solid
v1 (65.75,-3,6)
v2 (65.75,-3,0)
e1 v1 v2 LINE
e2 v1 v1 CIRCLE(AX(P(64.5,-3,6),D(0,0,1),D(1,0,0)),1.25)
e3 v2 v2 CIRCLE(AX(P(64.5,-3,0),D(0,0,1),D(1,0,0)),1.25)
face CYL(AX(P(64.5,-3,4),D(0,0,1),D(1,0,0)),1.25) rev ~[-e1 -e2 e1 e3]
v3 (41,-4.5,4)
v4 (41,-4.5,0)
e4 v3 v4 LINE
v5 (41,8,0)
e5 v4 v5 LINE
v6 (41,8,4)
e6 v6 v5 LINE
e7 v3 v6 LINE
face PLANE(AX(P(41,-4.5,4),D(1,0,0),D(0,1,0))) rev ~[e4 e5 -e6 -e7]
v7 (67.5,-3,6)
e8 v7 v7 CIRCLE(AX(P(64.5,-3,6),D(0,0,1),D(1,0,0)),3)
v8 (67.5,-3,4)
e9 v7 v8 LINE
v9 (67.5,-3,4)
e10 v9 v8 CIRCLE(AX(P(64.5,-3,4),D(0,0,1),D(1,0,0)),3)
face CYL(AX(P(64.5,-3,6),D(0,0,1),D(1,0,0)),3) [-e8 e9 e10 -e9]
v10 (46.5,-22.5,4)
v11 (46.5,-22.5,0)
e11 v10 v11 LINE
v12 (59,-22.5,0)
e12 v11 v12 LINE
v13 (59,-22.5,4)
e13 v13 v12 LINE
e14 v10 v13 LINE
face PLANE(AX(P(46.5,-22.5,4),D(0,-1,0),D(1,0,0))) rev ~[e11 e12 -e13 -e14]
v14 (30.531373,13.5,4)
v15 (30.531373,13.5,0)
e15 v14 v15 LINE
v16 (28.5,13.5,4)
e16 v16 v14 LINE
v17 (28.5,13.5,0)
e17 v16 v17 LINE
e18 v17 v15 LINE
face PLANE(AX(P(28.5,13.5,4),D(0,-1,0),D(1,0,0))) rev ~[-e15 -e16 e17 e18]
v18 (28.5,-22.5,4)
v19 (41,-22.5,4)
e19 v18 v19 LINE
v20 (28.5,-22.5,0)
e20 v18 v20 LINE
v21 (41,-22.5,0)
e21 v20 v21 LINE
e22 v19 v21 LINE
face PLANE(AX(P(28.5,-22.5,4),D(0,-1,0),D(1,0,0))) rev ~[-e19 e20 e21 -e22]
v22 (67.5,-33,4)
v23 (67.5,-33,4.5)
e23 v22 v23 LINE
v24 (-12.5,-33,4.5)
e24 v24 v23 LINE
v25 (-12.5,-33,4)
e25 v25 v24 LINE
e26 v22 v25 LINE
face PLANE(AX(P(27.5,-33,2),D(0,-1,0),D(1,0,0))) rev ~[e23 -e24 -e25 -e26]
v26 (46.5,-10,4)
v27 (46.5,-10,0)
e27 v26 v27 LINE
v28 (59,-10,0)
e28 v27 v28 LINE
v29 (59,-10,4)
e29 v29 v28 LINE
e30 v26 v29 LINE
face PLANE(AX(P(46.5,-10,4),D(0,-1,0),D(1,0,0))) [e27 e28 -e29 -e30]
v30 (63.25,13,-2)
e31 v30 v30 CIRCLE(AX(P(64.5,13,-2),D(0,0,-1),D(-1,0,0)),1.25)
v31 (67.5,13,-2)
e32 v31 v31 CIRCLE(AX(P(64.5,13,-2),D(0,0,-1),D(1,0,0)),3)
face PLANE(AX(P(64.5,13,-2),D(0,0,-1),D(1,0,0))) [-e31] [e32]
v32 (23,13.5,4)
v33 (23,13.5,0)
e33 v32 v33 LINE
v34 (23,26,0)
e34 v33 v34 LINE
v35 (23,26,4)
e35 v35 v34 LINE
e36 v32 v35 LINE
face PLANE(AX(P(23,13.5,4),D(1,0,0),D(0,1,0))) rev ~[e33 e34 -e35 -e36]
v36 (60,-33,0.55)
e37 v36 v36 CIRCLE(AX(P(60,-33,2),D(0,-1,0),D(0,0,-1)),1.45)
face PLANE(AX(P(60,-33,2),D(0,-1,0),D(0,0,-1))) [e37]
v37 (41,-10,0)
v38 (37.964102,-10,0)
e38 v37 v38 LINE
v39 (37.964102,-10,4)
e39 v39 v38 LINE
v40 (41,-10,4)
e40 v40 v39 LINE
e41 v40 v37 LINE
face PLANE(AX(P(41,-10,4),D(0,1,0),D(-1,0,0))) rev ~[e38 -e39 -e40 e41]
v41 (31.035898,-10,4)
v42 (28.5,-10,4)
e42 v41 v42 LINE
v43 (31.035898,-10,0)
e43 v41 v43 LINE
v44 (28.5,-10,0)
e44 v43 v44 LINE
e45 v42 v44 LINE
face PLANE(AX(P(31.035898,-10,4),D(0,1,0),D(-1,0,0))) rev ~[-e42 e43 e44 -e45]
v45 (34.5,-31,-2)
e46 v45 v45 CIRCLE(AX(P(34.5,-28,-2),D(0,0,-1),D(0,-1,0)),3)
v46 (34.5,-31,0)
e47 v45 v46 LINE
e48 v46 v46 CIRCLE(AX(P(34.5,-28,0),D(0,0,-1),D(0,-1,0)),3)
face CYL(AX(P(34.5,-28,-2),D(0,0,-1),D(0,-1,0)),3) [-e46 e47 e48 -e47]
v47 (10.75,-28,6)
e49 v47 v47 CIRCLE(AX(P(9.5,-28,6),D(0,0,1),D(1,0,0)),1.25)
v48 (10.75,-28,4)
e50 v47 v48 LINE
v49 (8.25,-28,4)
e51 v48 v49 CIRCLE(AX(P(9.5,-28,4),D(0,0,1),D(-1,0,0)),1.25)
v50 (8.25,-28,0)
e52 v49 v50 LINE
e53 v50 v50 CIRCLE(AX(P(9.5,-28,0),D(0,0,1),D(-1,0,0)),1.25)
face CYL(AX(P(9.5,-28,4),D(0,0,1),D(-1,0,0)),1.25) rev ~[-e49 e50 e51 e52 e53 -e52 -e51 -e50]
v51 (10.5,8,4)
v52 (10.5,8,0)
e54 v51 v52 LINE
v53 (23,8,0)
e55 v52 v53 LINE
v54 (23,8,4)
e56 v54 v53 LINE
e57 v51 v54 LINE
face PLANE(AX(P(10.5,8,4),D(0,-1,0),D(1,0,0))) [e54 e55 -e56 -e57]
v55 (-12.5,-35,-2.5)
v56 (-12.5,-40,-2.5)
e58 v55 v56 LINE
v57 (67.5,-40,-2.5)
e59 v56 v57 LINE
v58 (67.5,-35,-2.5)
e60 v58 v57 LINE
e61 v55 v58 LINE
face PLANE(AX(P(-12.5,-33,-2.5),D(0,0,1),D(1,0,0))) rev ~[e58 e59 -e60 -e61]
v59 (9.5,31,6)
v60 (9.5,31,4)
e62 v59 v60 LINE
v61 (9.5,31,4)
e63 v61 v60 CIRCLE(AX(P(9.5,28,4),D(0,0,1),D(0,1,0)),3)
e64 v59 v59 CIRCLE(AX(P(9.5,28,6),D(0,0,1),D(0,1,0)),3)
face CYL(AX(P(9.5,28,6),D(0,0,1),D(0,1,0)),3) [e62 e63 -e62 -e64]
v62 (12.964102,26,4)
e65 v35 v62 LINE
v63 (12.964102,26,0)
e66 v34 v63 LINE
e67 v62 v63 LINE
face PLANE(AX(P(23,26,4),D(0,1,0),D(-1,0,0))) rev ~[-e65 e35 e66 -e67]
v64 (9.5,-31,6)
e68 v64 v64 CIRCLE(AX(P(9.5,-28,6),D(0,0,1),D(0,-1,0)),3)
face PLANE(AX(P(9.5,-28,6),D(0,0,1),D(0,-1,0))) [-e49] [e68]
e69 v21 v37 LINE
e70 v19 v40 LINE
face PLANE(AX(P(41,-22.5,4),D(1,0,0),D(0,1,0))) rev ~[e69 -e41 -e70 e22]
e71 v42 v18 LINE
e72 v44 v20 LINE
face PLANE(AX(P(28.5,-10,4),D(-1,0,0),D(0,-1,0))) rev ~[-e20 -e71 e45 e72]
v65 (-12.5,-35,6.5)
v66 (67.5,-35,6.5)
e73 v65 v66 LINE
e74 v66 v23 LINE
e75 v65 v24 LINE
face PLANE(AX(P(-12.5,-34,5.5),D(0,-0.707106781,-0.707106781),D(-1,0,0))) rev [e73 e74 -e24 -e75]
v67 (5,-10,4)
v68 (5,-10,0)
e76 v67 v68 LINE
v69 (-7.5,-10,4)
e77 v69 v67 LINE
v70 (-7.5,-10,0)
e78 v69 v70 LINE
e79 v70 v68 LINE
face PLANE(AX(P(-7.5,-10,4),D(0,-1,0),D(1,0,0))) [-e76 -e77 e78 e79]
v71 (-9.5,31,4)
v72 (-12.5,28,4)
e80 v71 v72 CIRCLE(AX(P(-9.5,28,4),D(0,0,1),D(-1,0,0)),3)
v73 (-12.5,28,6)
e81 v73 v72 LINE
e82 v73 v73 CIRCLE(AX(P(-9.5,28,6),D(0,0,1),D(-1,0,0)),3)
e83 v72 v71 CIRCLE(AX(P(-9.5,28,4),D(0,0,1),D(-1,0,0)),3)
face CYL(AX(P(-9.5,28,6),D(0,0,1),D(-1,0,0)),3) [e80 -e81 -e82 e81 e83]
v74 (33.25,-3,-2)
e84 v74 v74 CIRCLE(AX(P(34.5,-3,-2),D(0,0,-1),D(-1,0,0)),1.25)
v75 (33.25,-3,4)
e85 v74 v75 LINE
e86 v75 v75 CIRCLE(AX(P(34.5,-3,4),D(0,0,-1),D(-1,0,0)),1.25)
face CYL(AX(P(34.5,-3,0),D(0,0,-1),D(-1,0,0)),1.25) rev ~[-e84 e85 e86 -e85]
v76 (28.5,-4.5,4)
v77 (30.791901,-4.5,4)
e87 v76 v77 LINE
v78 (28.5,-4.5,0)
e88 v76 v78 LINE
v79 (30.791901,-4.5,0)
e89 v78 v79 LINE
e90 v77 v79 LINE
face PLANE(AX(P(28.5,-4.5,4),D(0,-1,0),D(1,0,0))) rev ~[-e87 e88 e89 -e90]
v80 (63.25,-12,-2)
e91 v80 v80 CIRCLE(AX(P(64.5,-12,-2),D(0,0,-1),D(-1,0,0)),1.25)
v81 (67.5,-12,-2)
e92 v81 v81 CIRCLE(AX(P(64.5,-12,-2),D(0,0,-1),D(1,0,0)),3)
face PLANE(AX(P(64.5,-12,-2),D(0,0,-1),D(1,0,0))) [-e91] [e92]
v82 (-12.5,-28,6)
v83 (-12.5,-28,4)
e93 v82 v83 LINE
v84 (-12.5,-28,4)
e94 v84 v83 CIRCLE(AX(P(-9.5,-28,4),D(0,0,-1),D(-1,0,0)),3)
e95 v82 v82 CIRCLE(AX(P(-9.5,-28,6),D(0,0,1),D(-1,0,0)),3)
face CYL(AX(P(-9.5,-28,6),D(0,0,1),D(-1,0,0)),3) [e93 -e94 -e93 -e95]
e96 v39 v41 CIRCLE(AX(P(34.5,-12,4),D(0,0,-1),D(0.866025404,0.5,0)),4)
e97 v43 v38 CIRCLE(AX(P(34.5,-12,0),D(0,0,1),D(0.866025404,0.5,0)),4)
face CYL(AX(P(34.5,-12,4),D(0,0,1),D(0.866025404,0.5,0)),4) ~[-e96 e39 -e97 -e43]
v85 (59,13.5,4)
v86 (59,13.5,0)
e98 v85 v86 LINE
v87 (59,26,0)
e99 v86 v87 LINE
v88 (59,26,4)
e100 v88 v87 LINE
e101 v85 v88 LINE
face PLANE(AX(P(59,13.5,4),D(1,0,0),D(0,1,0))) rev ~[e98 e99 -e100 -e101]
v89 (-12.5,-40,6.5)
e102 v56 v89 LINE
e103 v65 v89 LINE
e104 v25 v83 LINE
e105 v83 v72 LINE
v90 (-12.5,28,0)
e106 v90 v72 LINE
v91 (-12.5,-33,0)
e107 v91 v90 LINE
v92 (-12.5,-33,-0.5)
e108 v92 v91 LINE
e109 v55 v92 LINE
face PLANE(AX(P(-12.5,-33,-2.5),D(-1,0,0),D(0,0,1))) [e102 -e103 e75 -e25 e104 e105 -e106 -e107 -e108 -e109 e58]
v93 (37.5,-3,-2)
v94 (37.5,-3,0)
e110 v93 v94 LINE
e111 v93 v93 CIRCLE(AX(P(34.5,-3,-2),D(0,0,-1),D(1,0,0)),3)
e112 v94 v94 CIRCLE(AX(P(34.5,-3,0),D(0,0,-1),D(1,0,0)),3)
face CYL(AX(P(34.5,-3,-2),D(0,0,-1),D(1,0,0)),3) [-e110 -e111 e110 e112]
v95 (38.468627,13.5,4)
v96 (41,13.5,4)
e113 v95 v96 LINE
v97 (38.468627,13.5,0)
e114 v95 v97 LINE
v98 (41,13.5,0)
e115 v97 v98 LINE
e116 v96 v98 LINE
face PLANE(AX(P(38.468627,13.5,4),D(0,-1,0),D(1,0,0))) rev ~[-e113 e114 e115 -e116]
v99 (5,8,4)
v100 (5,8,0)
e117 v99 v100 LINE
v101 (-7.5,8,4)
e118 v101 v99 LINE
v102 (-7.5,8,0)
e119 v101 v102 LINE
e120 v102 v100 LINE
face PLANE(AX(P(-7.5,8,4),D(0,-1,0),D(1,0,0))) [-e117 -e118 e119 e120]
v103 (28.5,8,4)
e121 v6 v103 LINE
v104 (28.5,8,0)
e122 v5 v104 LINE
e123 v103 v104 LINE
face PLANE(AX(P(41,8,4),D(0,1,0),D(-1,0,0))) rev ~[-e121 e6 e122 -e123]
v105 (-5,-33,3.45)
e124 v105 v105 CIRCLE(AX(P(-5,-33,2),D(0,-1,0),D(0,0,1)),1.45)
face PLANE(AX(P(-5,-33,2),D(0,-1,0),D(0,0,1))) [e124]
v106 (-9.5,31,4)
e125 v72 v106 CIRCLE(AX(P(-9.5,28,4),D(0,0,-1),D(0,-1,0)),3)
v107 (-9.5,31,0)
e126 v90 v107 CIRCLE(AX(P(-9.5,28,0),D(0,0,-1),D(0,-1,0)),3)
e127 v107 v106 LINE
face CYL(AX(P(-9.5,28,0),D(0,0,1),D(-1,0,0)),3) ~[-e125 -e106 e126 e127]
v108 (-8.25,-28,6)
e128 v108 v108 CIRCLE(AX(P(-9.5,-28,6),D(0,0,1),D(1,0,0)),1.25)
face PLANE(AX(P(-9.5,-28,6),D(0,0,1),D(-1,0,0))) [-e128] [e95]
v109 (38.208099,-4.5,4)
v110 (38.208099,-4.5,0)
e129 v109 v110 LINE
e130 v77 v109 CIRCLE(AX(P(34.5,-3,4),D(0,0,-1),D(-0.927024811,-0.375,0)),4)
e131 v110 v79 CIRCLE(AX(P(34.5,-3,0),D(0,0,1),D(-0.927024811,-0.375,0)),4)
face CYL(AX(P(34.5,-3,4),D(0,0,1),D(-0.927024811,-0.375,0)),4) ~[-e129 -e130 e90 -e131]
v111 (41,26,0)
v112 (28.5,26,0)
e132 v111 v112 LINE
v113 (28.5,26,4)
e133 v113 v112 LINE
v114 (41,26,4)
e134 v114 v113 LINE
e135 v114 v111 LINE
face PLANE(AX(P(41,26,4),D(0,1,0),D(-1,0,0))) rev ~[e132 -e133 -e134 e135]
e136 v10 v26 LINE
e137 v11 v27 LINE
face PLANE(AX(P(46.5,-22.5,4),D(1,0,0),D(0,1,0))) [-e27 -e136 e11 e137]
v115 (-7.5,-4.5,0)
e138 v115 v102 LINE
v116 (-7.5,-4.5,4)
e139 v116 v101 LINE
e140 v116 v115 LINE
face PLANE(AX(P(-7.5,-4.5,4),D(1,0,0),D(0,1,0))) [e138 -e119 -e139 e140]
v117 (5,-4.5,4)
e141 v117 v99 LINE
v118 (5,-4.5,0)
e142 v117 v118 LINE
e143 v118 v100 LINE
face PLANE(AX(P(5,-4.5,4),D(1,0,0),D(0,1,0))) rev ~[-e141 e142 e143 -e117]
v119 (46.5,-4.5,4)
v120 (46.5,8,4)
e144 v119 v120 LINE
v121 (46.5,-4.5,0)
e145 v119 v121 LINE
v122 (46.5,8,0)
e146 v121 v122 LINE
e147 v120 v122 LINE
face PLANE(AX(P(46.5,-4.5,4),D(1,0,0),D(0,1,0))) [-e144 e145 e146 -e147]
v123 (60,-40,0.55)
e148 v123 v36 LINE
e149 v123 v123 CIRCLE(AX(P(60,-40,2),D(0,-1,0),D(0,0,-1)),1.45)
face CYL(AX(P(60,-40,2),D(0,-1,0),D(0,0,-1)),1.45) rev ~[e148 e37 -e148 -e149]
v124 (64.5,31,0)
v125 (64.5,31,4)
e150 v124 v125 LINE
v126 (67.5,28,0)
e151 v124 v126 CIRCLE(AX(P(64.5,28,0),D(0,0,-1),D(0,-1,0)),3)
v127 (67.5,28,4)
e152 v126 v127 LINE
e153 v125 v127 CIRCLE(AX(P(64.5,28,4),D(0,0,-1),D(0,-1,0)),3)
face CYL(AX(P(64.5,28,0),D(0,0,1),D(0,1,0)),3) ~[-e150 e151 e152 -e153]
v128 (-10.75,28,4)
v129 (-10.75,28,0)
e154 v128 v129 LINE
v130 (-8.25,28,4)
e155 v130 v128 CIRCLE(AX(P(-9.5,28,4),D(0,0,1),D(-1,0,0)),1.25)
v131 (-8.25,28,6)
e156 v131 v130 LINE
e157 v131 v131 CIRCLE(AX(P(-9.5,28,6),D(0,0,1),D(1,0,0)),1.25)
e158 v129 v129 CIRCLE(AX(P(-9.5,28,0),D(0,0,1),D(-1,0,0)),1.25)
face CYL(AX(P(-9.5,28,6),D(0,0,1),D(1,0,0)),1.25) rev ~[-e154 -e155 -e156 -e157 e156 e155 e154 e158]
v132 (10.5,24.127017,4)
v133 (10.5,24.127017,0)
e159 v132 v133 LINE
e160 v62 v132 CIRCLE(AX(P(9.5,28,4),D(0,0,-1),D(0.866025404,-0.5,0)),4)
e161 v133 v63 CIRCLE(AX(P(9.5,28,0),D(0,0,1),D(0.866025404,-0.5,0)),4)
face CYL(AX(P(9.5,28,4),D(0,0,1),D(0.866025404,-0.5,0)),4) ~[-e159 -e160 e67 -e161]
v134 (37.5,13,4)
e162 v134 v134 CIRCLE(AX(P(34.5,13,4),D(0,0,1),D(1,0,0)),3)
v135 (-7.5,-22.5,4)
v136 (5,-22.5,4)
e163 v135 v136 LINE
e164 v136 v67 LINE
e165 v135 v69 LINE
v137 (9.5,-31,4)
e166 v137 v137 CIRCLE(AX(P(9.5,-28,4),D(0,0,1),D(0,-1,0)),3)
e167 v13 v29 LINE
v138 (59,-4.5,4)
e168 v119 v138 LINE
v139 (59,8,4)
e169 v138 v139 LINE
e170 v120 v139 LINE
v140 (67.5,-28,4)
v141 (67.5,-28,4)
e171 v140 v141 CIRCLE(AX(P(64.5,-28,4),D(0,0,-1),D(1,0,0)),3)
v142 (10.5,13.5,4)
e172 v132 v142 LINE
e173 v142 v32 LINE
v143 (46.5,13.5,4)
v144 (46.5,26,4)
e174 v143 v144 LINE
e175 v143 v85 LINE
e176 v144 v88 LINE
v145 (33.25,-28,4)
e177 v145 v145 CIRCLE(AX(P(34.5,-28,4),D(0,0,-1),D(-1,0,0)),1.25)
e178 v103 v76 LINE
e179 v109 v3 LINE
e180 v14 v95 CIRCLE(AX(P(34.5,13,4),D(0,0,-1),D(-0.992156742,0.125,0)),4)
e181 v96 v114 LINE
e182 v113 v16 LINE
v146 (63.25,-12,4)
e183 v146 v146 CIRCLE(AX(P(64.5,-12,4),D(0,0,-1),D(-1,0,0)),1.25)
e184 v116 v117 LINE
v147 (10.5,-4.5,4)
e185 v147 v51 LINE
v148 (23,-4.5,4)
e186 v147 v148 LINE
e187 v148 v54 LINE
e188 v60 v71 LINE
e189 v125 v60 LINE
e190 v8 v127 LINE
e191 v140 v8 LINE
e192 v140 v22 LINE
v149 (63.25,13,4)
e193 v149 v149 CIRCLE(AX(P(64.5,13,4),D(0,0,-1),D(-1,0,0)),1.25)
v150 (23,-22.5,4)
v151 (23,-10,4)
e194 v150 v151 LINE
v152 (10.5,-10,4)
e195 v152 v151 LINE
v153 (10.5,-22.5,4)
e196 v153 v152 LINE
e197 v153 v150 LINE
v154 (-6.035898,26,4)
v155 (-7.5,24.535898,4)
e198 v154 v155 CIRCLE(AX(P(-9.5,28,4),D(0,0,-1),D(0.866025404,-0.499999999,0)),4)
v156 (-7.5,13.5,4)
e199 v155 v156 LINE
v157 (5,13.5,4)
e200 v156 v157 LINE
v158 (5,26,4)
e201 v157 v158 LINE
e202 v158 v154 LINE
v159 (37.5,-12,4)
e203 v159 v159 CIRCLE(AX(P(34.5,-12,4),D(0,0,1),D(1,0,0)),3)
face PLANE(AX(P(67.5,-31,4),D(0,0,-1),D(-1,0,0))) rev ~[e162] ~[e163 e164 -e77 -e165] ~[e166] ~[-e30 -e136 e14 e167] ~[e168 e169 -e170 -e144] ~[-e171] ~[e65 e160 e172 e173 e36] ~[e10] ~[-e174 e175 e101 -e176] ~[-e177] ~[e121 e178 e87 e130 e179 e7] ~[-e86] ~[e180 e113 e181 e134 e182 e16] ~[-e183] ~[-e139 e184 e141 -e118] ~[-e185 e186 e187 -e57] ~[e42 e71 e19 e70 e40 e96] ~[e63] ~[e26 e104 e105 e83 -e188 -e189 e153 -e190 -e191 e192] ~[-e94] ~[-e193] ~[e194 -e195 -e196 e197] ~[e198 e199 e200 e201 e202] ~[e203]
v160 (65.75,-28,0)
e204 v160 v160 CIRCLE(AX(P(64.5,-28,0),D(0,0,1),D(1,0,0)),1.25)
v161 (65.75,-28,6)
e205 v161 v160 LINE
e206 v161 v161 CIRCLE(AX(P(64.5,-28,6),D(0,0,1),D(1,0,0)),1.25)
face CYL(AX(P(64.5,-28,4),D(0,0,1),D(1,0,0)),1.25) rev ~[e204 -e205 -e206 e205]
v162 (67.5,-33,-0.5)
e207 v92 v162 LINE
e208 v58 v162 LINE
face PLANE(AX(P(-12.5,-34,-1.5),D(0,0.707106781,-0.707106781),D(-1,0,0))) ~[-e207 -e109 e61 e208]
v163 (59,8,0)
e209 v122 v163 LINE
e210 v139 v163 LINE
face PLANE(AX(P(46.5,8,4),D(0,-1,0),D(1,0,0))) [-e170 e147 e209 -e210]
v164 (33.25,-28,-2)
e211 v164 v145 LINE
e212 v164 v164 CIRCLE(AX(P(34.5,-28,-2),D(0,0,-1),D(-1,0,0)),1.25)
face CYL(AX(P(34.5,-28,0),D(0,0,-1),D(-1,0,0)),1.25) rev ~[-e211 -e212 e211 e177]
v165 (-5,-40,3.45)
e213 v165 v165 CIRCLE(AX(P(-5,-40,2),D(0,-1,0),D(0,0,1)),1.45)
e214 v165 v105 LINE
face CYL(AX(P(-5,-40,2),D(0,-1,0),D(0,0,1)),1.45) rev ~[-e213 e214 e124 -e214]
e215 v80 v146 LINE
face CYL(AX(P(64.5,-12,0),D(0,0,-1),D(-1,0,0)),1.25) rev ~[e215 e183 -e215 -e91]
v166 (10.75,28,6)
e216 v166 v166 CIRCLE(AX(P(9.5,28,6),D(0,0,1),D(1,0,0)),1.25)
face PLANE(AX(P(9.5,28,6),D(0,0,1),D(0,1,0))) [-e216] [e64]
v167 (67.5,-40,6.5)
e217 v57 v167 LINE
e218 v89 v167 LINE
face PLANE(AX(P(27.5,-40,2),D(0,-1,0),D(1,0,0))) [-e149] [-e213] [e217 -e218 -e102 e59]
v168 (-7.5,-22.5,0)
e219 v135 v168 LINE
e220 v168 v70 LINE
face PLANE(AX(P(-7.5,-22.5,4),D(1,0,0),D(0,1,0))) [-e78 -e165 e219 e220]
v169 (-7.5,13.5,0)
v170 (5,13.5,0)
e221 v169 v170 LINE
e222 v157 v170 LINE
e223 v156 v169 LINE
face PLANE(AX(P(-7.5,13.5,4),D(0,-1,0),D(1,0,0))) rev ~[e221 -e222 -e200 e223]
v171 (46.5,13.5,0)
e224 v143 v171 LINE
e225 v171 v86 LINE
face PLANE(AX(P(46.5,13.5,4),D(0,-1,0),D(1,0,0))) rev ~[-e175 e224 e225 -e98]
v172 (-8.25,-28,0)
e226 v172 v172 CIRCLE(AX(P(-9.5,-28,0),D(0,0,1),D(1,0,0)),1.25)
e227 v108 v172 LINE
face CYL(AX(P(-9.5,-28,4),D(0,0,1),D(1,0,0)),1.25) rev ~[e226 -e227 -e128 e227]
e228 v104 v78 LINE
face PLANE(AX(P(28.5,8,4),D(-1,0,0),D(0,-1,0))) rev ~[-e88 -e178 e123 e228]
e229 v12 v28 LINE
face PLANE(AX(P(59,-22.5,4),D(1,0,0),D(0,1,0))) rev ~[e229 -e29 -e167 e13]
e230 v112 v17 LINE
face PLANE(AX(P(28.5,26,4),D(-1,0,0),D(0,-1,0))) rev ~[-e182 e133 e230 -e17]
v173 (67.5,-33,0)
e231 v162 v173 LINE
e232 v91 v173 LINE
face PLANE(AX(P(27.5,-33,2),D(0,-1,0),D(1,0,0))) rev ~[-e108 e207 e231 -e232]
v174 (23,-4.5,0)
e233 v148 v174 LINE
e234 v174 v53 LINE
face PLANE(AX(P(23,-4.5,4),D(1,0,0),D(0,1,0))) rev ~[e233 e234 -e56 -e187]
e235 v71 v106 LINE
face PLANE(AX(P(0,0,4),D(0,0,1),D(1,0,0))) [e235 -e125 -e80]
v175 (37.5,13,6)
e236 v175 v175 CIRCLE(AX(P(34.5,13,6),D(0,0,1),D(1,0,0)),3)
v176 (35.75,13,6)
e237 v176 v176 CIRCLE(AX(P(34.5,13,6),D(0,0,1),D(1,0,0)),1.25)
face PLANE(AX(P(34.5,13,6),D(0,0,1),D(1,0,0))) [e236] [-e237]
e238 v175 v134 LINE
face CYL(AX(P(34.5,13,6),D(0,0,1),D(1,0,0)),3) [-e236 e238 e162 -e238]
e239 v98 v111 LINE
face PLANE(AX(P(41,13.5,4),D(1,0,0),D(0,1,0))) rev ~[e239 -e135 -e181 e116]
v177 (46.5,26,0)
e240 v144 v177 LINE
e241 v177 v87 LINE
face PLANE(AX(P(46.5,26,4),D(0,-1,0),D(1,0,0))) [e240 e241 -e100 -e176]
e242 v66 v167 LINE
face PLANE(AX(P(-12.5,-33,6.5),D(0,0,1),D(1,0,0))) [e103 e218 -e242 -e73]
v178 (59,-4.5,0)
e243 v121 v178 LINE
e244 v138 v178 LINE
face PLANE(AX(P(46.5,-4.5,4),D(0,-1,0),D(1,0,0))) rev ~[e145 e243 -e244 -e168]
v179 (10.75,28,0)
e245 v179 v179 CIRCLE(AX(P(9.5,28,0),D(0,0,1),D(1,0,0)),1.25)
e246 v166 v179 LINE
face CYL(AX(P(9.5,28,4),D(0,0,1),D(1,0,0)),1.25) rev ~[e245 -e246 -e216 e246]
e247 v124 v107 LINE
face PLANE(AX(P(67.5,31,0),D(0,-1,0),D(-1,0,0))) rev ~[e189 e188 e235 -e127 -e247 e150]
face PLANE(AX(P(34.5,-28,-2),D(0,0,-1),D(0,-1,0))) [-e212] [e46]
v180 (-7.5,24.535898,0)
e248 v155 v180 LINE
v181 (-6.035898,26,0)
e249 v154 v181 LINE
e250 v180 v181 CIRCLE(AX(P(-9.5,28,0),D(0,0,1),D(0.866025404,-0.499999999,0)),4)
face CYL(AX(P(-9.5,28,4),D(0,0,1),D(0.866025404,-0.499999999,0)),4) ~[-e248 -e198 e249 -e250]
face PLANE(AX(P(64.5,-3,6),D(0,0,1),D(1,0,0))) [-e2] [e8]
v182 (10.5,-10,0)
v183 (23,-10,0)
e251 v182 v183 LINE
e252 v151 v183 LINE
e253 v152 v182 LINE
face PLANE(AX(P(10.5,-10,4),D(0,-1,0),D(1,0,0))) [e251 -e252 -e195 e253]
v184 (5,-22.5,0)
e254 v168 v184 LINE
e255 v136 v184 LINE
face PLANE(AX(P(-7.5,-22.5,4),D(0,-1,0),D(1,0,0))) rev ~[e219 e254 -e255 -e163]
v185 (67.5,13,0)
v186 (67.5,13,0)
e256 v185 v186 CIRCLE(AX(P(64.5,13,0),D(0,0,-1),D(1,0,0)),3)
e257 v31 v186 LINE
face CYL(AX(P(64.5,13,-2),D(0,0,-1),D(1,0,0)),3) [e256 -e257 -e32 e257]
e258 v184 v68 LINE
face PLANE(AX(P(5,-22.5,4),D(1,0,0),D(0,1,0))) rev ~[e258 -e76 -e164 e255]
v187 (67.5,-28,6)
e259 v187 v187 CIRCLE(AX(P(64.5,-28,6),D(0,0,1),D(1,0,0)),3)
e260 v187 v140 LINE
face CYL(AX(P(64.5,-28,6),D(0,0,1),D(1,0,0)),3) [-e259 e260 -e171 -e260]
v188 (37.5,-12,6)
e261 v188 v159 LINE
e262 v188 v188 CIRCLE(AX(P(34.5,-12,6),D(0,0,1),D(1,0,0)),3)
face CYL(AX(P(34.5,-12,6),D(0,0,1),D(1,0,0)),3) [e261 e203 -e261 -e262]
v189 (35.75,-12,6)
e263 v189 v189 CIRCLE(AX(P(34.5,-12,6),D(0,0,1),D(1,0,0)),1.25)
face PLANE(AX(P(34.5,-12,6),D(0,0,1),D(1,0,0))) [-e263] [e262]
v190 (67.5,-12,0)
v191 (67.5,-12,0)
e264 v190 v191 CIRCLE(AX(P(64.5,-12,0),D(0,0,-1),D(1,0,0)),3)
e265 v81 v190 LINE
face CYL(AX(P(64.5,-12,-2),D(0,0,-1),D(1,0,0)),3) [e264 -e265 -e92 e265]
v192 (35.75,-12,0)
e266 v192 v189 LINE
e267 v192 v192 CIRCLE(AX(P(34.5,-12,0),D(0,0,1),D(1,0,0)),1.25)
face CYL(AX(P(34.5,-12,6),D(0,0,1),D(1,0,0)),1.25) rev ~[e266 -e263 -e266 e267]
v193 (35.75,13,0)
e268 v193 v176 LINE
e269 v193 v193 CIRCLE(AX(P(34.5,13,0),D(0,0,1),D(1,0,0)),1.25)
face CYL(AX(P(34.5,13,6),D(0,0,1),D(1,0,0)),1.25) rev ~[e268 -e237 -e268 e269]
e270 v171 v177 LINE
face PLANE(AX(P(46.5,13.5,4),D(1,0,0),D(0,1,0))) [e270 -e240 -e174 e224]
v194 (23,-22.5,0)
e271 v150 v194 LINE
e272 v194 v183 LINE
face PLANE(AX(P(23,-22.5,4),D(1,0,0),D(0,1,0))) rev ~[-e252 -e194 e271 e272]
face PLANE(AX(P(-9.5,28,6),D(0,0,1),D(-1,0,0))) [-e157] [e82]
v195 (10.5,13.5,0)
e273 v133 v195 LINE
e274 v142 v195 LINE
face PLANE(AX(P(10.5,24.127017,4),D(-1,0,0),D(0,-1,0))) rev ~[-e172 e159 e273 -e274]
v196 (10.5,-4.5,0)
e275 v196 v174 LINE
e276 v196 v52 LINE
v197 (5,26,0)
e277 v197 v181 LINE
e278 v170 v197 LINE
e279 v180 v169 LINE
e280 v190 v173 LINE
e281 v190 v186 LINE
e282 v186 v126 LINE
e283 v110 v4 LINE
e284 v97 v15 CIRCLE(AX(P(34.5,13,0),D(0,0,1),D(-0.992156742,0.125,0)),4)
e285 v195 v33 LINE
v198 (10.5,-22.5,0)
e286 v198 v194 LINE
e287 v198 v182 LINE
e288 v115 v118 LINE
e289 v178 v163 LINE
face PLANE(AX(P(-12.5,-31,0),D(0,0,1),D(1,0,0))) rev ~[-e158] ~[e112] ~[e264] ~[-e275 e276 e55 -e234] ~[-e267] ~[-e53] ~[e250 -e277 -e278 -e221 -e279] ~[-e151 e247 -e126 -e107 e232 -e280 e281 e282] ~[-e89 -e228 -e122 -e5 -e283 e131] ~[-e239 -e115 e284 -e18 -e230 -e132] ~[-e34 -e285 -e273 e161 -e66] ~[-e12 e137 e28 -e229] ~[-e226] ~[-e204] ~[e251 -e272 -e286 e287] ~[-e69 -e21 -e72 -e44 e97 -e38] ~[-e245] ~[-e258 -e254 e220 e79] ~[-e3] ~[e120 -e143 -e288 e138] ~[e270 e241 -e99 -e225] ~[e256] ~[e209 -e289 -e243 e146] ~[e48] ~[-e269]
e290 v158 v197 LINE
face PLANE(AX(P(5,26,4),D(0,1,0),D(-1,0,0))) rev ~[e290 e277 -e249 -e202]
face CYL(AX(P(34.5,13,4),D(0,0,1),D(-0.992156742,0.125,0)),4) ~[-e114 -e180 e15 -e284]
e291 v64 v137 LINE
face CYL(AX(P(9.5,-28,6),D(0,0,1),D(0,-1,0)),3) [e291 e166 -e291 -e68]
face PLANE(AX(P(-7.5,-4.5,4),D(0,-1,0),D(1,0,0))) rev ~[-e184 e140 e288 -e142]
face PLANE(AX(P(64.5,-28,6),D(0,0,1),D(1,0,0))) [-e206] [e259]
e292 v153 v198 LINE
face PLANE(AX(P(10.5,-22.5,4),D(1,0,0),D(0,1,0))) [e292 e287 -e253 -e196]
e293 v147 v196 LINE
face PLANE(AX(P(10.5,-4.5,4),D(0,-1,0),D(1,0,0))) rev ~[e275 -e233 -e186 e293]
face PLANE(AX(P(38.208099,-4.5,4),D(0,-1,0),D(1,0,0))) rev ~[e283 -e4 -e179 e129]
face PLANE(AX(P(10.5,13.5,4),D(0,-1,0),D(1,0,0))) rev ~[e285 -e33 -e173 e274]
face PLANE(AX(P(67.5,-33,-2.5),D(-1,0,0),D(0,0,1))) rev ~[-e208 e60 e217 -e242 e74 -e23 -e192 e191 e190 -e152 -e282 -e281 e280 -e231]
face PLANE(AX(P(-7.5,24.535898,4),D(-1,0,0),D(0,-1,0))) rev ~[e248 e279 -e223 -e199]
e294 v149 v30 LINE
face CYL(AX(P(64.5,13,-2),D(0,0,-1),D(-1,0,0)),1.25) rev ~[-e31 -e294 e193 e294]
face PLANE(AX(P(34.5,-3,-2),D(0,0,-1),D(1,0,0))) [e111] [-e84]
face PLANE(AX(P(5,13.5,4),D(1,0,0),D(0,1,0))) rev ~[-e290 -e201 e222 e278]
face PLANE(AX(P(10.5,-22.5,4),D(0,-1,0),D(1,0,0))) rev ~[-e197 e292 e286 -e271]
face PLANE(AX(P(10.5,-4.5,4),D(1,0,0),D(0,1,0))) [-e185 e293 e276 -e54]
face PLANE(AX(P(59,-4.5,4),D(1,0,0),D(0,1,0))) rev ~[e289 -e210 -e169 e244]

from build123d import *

# Parameters (mm, degrees)
SKETCH1_W           = 25
SKETCH1_H           = 62
SKETCH1_W_2         = 55
BOSS_EXTRUDE1_DEPTH = 4
SKETCH2_R           = 1.25
CUT_EXTRUDE1_DEPTH  = 4
BOSS_EXTRUDE2_START = 2
SKETCH3_R           = 3
SKETCH3_R_2         = 1.25
BOSS_EXTRUDE2_DEPTH = 2
SKETCH4_R           = 1.25
CUT_EXTRUDE2_DEPTH  = 10
BOSS_EXTRUDE3_START = 2
SKETCH5_R           = 3
SKETCH5_R_2         = 1.25
BOSS_EXTRUDE3_DEPTH = 2
LPATTERN1_COUNT     = 2
LPATTERN1_PITCH     = 25
SKETCH6_R           = 1.25
CUT_EXTRUDE3_DEPTH  = 75.520131508
BOSS_EXTRUDE4_START = 2
SKETCH7_R           = 3
SKETCH7_R_2         = 1.25
BOSS_EXTRUDE4_DEPTH = 2
SKETCH8_W           = 12.5
SKETCH8_H           = 12.5
CUT_EXTRUDE4_DEPTH  = 75.520131508
FILLET1_R           = 3
BOSS_EXTRUDE5_DEPTH = 2
SKETCH10_W          = 80
SKETCH10_H          = 9
BOSS_EXTRUDE6_DEPTH = 7
CHAMFER1_SIZE       = 2
SKETCH11_R          = 1.45
CUT_EXTRUDE5_DEPTH  = 7


with BuildPart() as part:
    # Sketch1 → Boss-Extrude1 (new body)
    with BuildSketch(Plane.XY):
        Rectangle(SKETCH1_W, SKETCH1_H)
        with Locations((40, 0)):
            Rectangle(SKETCH1_W_2, SKETCH1_H)
    extrude(amount=BOSS_EXTRUDE1_DEPTH)

    # Sketch2 → Cut-Extrude1 (cut)
    with BuildSketch(Plane.XY.offset(4)):
        with Locations((-9.5, -28)):
            Circle(SKETCH2_R)
        with Locations(Location((9.5, -28, 0), (0, 0, 180))):
            Circle(SKETCH2_R)
        with Locations((9.5, 28)):
            Circle(SKETCH2_R)
        with Locations(Location((-9.5, 28, 0), (0, 0, 180))):
            Circle(SKETCH2_R)
    extrude(amount=-CUT_EXTRUDE1_DEPTH, mode=Mode.SUBTRACT)

    # Sketch3 → Boss-Extrude2 (add)
    # profile 1 of 4: a face of its own
    with BuildSketch(Plane.XY.offset(4).offset(BOSS_EXTRUDE2_START)):
        with Locations(Location((-9.5, 28, 0), (0, 0, 180))):
            Circle(SKETCH3_R)
        with Locations((-9.5, 28)):
            Circle(SKETCH3_R_2, mode=Mode.SUBTRACT)
    # profile 2 of 4: a face of its own
    with BuildSketch(Plane.XY.offset(4).offset(BOSS_EXTRUDE2_START)):
        with Locations(Location((9.5, 28, 0), (0, 0, 90))):
            Circle(SKETCH3_R)
        with Locations((9.5, 28)):
            Circle(SKETCH3_R_2, mode=Mode.SUBTRACT)
    # profile 3 of 4: a face of its own
    with BuildSketch(Plane.XY.offset(4).offset(BOSS_EXTRUDE2_START)):
        with Locations(Location((-9.5, -28, 0), (0, 0, 180))):
            Circle(SKETCH3_R)
        with Locations((-9.5, -28)):
            Circle(SKETCH3_R_2, mode=Mode.SUBTRACT)
    # profile 4 of 4: a face of its own
    with BuildSketch(Plane.XY.offset(4).offset(BOSS_EXTRUDE2_START)):
        with Locations(Location((9.5, -28, 0), (0, 0, 270))):
            Circle(SKETCH3_R)
        with Locations((9.5, -28)):
            Circle(SKETCH3_R_2, mode=Mode.SUBTRACT)
    extrude(amount=-BOSS_EXTRUDE2_DEPTH)

    # Sketch4 → Cut-Extrude2 (cut)
    with BuildSketch(Plane.XY.offset(4)):
        with Locations((34.5, -12)):
            Circle(SKETCH4_R)
        with Locations((64.5, -28)):
            Circle(SKETCH4_R)
    cut_extrude2 = extrude(amount=-CUT_EXTRUDE2_DEPTH, mode=Mode.SUBTRACT)

    # Sketch5 → Boss-Extrude3 (add)
    # profile 1 of 2: a face of its own
    with BuildSketch(Plane.XY.offset(4).offset(BOSS_EXTRUDE3_START)):
        with Locations((34.5, -12)):
            Circle(SKETCH5_R)
        with Locations((34.5, -12)):
            Circle(SKETCH5_R_2, mode=Mode.SUBTRACT)
    # profile 2 of 2: a face of its own
    with BuildSketch(Plane.XY.offset(4).offset(BOSS_EXTRUDE3_START)):
        with Locations((64.5, -28)):
            Circle(SKETCH5_R)
        with Locations((64.5, -28)):
            Circle(SKETCH5_R_2, mode=Mode.SUBTRACT)
    boss_extrude3 = extrude(amount=-BOSS_EXTRUDE3_DEPTH)

    # LPattern1: Cut-Extrude2, Boss-Extrude3 ×2
    with Locations(*[(0, i * LPATTERN1_PITCH, 0) for i in range(1, LPATTERN1_COUNT)]):
        add(cut_extrude2, mode=Mode.SUBTRACT)
        add(boss_extrude3)

    # Sketch6 → Cut-Extrude3 (cut, through all)
    with BuildSketch(Plane(origin=(0, 0, 0), x_dir=(-1, 0, 0), z_dir=(0, 0, -1))):
        with Locations((-64.5, -12)):
            Circle(SKETCH6_R)
        with Locations((-34.5, -28)):
            Circle(SKETCH6_R)
        with Locations((-64.5, 13)):
            Circle(SKETCH6_R)
        with Locations((-34.5, -3)):
            Circle(SKETCH6_R)
    extrude(amount=-CUT_EXTRUDE3_DEPTH, mode=Mode.SUBTRACT)

    # Sketch7 → Boss-Extrude4 (add)
    # profile 1 of 4: a face of its own
    with BuildSketch(Plane(origin=(0, 0, 0), x_dir=(-1, 0, 0), z_dir=(0, 0, -1)).offset(BOSS_EXTRUDE4_START)):
        with Locations(Location((-64.5, 13, 0), (0, 0, 180))):
            Circle(SKETCH7_R)
        with Locations((-64.5, 13)):
            Circle(SKETCH7_R_2, mode=Mode.SUBTRACT)
    # profile 2 of 4: a face of its own
    with BuildSketch(Plane(origin=(0, 0, 0), x_dir=(-1, 0, 0), z_dir=(0, 0, -1)).offset(BOSS_EXTRUDE4_START)):
        with Locations(Location((-34.5, -3, 0), (0, 0, 180))):
            Circle(SKETCH7_R)
        with Locations((-34.5, -3)):
            Circle(SKETCH7_R_2, mode=Mode.SUBTRACT)
    # profile 3 of 4: a face of its own
    with BuildSketch(Plane(origin=(0, 0, 0), x_dir=(-1, 0, 0), z_dir=(0, 0, -1)).offset(BOSS_EXTRUDE4_START)):
        with Locations(Location((-34.5, -28, 0), (0, 0, 270))):
            Circle(SKETCH7_R)
        with Locations((-34.5, -28)):
            Circle(SKETCH7_R_2, mode=Mode.SUBTRACT)
    # profile 4 of 4: a face of its own
    with BuildSketch(Plane(origin=(0, 0, 0), x_dir=(-1, 0, 0), z_dir=(0, 0, -1)).offset(BOSS_EXTRUDE4_START)):
        with Locations(Location((-64.5, -12, 0), (0, 0, 180))):
            Circle(SKETCH7_R)
        with Locations((-64.5, -12)):
            Circle(SKETCH7_R_2, mode=Mode.SUBTRACT)
    extrude(amount=-BOSS_EXTRUDE4_DEPTH)

    # Sketch8 → Cut-Extrude4 (cut, through all)
    with BuildSketch(Plane.XY.offset(4)):
        with BuildLine():
            Line((5, 26), (-6.035898385, 26))
            ThreePointArc((-6.035898385, 26), (-6.671572875, 25.171572875), (-7.5, 24.535898385))
            Line((-7.5, 24.535898385), (-7.5, 13.5))
            Line((-7.5, 13.5), (5, 13.5))
            Line((5, 13.5), (5, 26))
        make_face()
        with BuildLine():
            ThreePointArc((12.964101615, 26), (11.920551066, 24.815516912), (10.5, 24.127016654))
            Line((10.5, 24.127016654), (10.5, 13.5))
            Line((10.5, 13.5), (23, 13.5))
            Line((23, 13.5), (23, 26))
            Line((23, 26), (12.964101615, 26))
        make_face()
        with BuildLine():
            Line((41, 26), (28.5, 26))
            Line((28.5, 26), (28.5, 13.5))
            Line((28.5, 13.5), (30.531373033, 13.5))
            ThreePointArc((30.531373033, 13.5), (34.5, 17), (38.468626967, 13.5))
            Line((38.468626967, 13.5), (41, 13.5))
            Line((41, 13.5), (41, 26))
        make_face()
        with Locations((52.75, 19.75)):
            Rectangle(SKETCH8_W, SKETCH8_H)
        with Locations((16.75, 1.75)):
            Rectangle(SKETCH8_W, SKETCH8_H)
        with BuildLine():
            Line((41, 8), (28.5, 8))
            Line((28.5, 8), (28.5, -4.5))
            Line((28.5, -4.5), (30.791900756, -4.5))
            ThreePointArc((30.791900756, -4.5), (34.5, 1), (38.208099244, -4.5))
            Line((38.208099244, -4.5), (41, -4.5))
            Line((41, -4.5), (41, 8))
        make_face()
        with Locations((52.75, 1.75)):
            Rectangle(SKETCH8_W, SKETCH8_H)
        with Locations((16.75, -16.25)):
            Rectangle(SKETCH8_W, SKETCH8_H)
        with BuildLine():
            Line((31.035898385, -10), (28.5, -10))
            Line((28.5, -10), (28.5, -22.5))
            Line((28.5, -22.5), (41, -22.5))
            Line((41, -22.5), (41, -10))
            Line((41, -10), (37.964101615, -10))
            ThreePointArc((37.964101615, -10), (34.5, -16), (31.035898385, -10))
        make_face()
        with Locations((52.75, -16.25)):
            Rectangle(SKETCH8_W, SKETCH8_H)
        with Locations((-1.25, 1.75)):
            Rectangle(SKETCH8_W, SKETCH8_H)
        with Locations((-1.25, -16.25)):
            Rectangle(SKETCH8_W, SKETCH8_H)
    extrude(amount=-CUT_EXTRUDE4_DEPTH, mode=Mode.SUBTRACT)

    # Fillet1
    fillet1_edges = [part.edges().sort_by_distance(p)[0] for p in [
        (67.5, 31, 2),
        (-12.5, 31, 2),
    ]]
    fillet(fillet1_edges, radius=FILLET1_R)

    # Sketch9 → Boss-Extrude5 (add)
    with BuildSketch(Plane.XZ.offset(31)):
        Polygon((-12.5, 0), (34.5, 0), (67.5, 0), (67.5, 4), (64.5, 4), (9.5, 4), (-9.5, 4), (-12.5, 4), align=None)
    extrude(amount=BOSS_EXTRUDE5_DEPTH)

    # Sketch10 → Boss-Extrude6 (add)
    with BuildSketch(Plane.XZ.offset(33)):
        with Locations((27.5, 2)):
            Rectangle(SKETCH10_W, SKETCH10_H)
    extrude(amount=BOSS_EXTRUDE6_DEPTH)

    # Chamfer1
    chamfer1_edges = [part.edges().sort_by_distance(p)[0] for p in [
        (27.5, -33, -2.5),
        (27.5, -33, 6.5),
    ]]
    chamfer(chamfer1_edges, length=CHAMFER1_SIZE)

    # Sketch11 → Cut-Extrude5 (cut)
    with BuildSketch(Plane.XZ.offset(40)):
        with Locations(Location((60, 2, 0), (0, 0, 270))):
            Circle(SKETCH11_R)
        with Locations(Location((-5, 2, 0), (0, 0, 90))):
            Circle(SKETCH11_R)
    extrude(amount=-CUT_EXTRUDE5_DEPTH, mode=Mode.SUBTRACT)


solid = part.part
